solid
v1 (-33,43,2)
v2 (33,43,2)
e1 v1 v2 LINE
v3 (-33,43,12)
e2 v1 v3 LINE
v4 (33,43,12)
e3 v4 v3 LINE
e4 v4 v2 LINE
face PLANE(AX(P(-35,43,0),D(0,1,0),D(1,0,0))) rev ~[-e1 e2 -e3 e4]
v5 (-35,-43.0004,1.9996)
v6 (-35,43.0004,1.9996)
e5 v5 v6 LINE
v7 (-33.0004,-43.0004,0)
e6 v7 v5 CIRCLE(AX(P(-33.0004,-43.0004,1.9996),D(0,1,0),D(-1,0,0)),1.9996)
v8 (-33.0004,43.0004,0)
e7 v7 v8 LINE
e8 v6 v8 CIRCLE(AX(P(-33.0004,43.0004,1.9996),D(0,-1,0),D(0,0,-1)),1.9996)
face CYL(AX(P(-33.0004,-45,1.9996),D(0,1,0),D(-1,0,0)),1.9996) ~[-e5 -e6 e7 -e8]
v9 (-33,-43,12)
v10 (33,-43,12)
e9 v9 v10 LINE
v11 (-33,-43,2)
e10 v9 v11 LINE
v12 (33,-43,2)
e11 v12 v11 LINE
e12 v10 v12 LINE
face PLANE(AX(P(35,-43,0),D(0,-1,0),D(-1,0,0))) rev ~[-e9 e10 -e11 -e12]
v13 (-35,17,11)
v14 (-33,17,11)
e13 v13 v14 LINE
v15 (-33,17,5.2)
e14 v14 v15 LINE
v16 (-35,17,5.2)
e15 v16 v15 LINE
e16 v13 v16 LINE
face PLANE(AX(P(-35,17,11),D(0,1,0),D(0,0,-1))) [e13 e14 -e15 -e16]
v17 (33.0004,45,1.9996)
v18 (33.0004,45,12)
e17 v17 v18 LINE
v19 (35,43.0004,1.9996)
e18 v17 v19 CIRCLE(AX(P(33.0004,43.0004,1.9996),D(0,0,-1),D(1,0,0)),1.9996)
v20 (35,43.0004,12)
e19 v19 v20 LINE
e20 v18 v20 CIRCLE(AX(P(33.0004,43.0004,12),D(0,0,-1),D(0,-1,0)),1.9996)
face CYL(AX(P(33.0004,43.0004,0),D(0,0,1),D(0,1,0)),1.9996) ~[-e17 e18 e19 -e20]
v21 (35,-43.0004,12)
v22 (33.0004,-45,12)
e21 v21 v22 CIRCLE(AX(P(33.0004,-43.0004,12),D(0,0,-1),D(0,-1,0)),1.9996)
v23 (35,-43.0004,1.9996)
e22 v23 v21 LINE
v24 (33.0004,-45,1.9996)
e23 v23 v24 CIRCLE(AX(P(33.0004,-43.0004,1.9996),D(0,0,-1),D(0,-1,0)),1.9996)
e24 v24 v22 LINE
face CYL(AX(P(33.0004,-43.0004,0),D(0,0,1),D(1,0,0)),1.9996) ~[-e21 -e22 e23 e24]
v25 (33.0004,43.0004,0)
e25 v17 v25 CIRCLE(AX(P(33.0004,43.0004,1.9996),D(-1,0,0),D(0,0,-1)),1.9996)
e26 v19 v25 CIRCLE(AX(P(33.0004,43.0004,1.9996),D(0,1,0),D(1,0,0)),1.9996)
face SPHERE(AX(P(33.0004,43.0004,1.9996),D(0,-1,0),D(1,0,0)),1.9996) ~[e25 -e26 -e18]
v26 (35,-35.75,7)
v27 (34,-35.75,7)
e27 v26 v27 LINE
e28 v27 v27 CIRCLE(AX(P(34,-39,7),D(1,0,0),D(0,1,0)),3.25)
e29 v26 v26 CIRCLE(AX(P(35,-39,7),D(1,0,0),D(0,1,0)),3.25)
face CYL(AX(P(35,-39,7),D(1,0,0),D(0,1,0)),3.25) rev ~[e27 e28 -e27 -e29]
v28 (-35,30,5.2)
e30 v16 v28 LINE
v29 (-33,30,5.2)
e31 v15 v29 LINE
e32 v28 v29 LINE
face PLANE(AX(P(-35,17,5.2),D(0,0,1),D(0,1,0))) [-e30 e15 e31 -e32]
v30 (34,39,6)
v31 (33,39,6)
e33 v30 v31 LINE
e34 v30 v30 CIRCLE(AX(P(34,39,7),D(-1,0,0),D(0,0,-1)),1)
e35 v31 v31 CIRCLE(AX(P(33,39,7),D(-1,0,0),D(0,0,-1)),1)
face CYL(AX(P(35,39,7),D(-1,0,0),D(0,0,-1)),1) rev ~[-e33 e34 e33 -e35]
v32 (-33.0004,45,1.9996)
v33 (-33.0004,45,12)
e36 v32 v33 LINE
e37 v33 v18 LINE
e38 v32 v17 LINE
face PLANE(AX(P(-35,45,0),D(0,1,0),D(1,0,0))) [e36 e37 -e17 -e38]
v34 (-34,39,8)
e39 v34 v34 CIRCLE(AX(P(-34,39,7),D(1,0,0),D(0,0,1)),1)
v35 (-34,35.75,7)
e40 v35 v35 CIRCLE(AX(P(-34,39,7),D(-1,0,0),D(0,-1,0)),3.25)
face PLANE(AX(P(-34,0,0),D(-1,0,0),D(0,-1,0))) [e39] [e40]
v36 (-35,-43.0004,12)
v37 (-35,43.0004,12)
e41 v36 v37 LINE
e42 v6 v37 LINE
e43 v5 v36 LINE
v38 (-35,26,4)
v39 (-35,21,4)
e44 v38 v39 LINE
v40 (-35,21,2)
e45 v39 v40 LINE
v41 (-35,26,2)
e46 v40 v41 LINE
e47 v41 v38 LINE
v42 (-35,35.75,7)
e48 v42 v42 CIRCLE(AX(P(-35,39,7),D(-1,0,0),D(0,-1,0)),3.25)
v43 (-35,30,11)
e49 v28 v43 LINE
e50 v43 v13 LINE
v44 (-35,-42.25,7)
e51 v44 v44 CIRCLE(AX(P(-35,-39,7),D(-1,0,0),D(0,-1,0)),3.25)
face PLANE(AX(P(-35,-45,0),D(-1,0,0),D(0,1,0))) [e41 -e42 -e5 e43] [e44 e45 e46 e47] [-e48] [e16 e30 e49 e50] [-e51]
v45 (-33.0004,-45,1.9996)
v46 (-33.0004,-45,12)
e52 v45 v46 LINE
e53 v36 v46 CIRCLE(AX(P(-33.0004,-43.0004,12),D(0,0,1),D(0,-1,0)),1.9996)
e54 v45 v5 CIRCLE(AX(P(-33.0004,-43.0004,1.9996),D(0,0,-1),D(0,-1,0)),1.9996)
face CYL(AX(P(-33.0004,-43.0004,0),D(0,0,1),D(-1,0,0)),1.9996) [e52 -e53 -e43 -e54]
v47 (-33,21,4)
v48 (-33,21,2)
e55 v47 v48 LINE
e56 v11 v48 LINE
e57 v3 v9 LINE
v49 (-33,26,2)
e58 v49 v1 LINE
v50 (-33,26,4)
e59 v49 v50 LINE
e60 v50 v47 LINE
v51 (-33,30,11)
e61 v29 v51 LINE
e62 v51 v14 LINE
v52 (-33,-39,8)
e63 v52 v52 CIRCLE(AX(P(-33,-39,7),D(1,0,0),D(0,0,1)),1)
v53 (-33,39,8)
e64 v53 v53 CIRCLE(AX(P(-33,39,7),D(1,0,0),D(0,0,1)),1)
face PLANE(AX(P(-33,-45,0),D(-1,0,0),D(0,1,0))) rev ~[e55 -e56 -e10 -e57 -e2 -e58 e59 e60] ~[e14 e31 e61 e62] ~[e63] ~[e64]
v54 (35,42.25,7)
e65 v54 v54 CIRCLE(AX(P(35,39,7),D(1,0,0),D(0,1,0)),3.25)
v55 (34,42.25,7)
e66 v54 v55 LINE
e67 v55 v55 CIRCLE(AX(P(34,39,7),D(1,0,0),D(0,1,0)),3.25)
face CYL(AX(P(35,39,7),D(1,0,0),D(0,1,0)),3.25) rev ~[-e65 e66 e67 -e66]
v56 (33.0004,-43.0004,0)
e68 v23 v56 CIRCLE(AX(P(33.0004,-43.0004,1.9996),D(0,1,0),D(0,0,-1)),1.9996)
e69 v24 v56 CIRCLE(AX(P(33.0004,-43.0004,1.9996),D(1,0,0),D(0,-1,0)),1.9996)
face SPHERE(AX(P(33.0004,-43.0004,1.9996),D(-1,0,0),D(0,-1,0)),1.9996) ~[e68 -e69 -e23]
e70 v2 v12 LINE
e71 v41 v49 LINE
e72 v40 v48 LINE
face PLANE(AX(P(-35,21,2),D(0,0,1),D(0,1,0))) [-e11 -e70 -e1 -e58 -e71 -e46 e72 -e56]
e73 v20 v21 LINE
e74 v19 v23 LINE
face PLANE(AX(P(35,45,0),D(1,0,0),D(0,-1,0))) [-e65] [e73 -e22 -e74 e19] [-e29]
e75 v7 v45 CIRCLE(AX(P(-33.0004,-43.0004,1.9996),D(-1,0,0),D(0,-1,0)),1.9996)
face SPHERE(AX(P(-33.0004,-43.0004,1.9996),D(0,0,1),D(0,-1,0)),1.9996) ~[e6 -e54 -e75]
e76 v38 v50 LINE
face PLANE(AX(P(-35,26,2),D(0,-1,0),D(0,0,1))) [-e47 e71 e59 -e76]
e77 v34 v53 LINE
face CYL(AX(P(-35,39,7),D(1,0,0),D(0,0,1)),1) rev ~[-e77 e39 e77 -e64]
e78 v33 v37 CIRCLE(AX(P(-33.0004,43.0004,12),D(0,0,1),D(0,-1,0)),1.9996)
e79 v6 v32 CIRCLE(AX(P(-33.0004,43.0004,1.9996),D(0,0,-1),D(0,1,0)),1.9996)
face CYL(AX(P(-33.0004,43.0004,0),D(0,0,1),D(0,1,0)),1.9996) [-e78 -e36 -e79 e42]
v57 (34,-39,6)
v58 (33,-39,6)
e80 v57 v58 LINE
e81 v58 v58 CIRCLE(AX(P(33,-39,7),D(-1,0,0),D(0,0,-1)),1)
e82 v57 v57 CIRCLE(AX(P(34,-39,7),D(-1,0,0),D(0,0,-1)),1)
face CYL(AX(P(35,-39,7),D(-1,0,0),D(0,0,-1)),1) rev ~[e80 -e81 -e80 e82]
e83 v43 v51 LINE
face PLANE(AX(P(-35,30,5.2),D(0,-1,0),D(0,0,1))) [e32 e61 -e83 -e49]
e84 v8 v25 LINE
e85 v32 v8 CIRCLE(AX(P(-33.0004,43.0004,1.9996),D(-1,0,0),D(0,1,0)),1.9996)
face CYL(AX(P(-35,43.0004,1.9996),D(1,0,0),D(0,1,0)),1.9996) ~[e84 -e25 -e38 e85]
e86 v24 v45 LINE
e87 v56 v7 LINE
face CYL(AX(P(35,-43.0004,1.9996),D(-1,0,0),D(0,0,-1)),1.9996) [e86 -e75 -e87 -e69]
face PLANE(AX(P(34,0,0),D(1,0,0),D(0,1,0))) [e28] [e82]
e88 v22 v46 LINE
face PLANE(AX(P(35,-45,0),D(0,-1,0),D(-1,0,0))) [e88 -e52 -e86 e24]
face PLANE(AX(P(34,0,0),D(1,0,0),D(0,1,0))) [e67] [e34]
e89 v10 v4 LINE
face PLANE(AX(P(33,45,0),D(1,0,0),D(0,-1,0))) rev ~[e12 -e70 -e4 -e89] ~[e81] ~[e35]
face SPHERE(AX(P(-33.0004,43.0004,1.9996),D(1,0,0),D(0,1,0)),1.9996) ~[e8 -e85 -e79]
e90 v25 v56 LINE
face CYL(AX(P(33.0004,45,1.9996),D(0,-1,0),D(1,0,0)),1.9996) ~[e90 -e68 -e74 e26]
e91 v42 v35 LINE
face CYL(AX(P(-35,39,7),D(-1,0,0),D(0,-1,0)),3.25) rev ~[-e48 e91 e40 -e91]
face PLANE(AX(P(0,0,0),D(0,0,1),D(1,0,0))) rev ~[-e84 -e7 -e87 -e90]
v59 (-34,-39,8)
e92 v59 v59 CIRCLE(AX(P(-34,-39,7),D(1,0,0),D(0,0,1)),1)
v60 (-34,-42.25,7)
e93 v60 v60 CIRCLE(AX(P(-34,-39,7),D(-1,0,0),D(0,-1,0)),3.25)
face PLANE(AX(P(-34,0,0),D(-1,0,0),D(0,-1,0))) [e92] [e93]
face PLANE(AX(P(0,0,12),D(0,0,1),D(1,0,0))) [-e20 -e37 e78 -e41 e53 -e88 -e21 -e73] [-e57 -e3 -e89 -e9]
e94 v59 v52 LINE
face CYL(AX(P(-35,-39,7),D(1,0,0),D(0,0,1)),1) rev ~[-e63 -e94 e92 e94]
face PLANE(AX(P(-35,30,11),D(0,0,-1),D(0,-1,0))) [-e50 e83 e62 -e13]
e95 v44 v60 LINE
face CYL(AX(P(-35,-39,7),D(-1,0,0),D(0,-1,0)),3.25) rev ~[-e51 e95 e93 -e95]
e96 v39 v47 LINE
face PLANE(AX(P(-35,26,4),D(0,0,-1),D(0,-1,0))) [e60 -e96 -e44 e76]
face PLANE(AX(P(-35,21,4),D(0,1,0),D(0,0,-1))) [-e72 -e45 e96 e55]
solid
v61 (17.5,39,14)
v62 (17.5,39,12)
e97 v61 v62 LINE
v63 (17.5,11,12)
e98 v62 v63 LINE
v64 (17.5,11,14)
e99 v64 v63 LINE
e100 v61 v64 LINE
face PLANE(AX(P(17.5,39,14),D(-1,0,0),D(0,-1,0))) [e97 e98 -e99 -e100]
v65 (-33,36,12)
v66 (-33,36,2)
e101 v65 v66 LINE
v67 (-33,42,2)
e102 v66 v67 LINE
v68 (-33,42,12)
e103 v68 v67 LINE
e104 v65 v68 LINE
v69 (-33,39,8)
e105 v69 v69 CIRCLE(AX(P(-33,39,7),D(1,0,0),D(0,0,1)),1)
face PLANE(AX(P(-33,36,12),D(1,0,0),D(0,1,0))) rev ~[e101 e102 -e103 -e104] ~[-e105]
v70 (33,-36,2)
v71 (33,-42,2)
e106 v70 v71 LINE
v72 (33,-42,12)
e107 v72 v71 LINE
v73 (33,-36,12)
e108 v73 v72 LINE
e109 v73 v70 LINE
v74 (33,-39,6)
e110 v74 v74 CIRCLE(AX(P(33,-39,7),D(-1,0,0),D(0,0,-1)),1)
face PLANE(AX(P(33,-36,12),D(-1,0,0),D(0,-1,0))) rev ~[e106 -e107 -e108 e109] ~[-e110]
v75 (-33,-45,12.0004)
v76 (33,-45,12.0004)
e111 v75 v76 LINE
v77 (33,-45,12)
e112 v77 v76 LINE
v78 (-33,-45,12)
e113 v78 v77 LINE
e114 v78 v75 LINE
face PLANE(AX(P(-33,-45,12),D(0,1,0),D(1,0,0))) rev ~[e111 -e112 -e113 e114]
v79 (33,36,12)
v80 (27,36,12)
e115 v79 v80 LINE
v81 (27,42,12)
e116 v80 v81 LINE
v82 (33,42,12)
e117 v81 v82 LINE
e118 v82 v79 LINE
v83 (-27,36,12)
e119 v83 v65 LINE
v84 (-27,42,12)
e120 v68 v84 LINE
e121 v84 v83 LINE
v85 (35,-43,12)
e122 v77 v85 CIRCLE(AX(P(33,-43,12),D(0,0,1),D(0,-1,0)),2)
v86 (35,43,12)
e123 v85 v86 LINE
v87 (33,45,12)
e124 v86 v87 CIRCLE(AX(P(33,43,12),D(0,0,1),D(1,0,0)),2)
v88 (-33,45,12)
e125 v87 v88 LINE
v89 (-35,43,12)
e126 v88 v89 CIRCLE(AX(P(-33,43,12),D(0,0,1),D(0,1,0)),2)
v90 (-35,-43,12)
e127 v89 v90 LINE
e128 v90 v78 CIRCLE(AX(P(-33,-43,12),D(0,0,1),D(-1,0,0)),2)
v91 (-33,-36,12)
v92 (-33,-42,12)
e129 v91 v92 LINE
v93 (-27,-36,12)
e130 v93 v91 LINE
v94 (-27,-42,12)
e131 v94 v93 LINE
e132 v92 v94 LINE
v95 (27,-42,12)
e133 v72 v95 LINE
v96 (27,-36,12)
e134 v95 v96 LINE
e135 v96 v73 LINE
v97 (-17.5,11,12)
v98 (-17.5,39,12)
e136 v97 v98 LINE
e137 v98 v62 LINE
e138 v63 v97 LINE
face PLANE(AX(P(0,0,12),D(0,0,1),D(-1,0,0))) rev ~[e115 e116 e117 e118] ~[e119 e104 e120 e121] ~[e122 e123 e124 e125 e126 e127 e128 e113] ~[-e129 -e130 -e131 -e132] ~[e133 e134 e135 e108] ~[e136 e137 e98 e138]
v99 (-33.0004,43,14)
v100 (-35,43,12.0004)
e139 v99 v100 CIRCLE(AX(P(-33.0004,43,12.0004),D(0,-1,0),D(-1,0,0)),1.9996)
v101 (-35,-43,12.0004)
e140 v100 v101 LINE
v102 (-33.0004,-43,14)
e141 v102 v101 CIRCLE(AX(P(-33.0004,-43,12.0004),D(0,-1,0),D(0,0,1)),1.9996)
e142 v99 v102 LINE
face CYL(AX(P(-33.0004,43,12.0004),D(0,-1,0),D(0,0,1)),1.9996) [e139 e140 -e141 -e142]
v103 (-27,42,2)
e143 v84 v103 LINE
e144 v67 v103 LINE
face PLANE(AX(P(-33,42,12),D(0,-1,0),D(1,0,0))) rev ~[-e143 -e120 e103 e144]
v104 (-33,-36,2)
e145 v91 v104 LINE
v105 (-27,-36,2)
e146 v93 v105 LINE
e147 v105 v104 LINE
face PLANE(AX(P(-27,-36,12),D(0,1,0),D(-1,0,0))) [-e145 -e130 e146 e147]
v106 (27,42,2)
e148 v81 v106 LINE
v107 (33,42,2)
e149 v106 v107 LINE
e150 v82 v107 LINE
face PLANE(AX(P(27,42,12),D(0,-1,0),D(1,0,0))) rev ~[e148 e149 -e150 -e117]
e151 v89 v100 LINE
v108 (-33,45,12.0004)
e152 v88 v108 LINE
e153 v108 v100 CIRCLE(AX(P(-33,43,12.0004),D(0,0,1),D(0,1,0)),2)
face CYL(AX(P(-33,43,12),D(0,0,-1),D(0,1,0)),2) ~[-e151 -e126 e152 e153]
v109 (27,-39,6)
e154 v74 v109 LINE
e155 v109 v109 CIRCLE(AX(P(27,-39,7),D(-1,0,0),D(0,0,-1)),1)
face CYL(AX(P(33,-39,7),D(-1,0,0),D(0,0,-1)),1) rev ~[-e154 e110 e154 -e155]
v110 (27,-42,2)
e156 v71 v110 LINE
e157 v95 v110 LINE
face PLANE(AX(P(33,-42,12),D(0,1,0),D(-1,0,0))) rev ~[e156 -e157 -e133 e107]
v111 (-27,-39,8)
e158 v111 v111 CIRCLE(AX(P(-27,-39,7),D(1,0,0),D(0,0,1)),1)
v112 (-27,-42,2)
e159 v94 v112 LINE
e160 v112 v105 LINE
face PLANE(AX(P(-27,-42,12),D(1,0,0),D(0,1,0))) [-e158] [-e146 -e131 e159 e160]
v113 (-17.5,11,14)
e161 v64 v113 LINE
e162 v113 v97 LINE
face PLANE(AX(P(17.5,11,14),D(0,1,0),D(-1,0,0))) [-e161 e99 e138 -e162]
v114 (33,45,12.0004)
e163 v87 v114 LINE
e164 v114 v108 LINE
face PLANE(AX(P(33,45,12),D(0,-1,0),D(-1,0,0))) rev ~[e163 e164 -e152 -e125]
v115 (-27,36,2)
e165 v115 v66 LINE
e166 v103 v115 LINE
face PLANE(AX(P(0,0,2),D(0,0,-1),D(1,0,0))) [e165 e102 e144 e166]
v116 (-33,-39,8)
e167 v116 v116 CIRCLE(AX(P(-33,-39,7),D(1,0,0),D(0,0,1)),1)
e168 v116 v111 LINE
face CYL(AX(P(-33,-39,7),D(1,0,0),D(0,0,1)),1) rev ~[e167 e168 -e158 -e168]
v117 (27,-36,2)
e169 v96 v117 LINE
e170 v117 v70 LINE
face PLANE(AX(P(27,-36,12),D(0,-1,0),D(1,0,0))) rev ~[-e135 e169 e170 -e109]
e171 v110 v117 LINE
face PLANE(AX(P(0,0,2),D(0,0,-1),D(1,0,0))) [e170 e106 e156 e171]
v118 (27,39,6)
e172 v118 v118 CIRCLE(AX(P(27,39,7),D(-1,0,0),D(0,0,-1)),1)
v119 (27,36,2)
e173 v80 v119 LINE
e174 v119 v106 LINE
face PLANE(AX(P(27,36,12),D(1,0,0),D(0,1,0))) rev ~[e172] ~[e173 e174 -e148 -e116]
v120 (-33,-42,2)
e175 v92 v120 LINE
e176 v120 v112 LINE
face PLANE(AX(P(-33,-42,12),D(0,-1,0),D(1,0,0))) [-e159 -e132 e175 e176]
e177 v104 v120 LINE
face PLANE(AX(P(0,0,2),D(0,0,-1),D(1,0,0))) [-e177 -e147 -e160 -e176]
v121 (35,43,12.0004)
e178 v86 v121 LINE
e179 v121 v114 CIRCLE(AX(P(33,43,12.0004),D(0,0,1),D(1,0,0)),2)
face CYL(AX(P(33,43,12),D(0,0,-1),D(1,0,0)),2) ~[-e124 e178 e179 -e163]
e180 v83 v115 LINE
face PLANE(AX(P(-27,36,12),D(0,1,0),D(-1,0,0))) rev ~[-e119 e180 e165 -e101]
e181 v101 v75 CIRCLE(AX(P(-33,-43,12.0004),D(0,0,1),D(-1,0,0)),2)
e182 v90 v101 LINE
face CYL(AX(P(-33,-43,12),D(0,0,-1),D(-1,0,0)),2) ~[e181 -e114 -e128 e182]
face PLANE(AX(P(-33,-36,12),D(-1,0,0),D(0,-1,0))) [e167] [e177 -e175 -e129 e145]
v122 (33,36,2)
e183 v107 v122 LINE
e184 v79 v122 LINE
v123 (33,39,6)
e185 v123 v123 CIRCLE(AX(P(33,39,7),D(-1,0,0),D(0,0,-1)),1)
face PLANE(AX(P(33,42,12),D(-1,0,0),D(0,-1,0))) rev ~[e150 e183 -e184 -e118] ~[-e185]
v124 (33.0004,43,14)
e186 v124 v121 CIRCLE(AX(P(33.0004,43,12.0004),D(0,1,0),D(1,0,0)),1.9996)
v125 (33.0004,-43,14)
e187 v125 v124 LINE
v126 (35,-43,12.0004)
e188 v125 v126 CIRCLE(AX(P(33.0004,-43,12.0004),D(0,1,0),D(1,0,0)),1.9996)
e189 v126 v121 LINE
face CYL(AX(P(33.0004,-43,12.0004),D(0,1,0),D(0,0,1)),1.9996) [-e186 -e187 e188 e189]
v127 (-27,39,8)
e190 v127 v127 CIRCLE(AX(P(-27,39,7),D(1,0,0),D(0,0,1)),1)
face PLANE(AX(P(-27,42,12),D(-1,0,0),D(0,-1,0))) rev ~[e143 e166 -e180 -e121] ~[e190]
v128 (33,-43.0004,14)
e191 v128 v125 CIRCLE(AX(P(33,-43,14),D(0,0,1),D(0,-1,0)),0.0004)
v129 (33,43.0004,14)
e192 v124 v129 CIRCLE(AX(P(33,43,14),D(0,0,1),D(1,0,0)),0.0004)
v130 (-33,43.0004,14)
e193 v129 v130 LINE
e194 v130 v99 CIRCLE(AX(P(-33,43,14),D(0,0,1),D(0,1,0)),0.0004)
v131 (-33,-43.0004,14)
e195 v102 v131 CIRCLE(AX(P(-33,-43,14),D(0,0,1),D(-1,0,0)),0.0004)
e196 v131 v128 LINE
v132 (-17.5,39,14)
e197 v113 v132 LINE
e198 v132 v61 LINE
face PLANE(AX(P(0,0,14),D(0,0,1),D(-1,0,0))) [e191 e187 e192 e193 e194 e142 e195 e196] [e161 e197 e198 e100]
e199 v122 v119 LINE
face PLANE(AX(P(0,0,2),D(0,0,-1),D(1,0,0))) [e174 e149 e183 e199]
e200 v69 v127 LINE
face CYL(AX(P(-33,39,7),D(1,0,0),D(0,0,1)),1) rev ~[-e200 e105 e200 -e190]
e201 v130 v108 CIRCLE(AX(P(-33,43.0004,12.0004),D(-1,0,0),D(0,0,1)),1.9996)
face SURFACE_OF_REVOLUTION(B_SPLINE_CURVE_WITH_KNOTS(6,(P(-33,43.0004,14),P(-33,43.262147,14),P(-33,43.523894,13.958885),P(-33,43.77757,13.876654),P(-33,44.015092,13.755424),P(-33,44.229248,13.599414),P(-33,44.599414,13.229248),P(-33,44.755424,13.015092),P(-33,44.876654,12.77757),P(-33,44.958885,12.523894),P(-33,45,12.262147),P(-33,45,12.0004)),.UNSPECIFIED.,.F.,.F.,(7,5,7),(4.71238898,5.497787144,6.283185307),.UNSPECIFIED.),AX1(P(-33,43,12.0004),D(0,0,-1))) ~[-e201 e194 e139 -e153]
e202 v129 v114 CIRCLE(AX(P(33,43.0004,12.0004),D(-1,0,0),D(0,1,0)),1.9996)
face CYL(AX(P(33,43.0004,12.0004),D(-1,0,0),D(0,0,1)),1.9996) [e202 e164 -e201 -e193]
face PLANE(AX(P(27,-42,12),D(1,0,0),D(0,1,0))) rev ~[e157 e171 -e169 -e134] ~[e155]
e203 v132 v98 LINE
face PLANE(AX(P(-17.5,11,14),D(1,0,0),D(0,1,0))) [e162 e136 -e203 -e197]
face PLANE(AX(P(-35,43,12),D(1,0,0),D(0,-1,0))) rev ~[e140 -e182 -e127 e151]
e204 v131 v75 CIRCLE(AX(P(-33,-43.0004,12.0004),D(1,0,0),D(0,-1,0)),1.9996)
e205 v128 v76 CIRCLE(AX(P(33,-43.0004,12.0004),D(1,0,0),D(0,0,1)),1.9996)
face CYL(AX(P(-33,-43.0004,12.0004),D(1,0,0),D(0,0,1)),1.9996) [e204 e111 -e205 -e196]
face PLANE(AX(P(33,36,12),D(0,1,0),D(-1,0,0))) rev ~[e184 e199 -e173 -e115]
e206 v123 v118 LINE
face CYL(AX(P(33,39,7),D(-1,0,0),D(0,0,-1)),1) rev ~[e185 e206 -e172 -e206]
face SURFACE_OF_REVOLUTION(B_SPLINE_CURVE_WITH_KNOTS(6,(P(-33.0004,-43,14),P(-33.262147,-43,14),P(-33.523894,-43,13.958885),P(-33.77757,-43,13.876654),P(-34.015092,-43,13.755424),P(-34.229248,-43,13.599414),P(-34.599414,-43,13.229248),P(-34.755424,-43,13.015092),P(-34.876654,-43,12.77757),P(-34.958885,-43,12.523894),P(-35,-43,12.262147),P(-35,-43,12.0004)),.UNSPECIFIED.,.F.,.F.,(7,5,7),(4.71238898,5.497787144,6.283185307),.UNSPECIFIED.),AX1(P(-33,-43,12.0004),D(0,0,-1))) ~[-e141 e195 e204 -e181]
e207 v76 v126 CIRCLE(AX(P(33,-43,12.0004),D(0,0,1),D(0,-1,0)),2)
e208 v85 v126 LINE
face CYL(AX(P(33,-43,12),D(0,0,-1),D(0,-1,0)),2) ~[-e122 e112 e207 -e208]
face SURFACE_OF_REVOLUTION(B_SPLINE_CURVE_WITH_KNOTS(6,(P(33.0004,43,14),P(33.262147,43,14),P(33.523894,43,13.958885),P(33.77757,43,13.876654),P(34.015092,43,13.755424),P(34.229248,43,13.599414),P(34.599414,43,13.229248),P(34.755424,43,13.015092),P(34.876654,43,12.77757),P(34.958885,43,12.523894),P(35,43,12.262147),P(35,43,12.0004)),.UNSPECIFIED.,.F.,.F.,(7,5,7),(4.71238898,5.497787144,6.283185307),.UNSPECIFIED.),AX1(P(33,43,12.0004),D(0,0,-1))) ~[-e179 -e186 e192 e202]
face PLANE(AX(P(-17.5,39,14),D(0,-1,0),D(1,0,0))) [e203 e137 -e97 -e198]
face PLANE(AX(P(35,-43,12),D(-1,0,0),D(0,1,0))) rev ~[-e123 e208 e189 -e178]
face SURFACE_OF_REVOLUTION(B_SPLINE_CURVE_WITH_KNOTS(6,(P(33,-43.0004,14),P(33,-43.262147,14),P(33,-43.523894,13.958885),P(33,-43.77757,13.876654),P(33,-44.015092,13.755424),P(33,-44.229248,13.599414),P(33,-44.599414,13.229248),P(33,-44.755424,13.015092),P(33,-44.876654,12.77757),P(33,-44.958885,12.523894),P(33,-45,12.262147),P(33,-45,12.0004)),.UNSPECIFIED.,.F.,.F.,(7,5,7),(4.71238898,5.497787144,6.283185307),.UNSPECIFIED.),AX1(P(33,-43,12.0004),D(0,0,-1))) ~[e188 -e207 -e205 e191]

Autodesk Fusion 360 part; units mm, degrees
sketch "Sketch1" plane through (0, 0, 0) normal (0, 0, 1) x (1, 0, 0) in component "Case"
  line L0 (-35, 45) -> (35, 45)
  line L1 (35, 45) -> (35, -45)
  line L2 (35, -45) -> (-35, -45)
  line L3 (-35, -45) -> (-35, 45)
  dimension "d1" = 90
  dimension "d2" = 45
  dimension "d3" = 35
  dimension "d6" = 70
extrude "Extrude1" add sketch "Sketch1" along normal blind 12 makes body 1 in component "Case"
shell "Shell1" thickness 2 removed faces 1 at (-11.6667, -15, 12) on bodies 1 in component "Case"
sketch "Sketch3" plane through (-35, 0, 0) normal (-1, 0, 0) x (0, -1, 0) in component "Case"
  line L0 (-45, 0) -> (45, 0)
  line L1 (45, 0) -> (45, 12)
  line L2 (45, 12) -> (-45, 12)
  line L3 (-45, 12) -> (-45, 0)
  circle A0 centre (-39, 7) radius 3.25
  circle A1 centre (39, 7) radius 3.25
  line L4 (-30, 11) -> (-17, 11)
  line L5 (-17, 11) -> (-17, 5.2)
  line L6 (-17, 5.2) -> (-30, 5.2)
  line L7 (-30, 5.2) -> (-30, 11)
  line L8 (-26, 4) -> (-21, 4)
  line L9 (-21, 4) -> (-21, 2)
  line L10 (-21, 2) -> (-26, 2)
  line L11 (-26, 2) -> (-26, 4)
  dimension "d18" = 6.5
  dimension "d19" = 6
  dimension "d20" = 5
  dimension "d21" = 6.5
  dimension "d22" = 6
  dimension "d23" = 5
  dimension "d47" = 13
  dimension "d48" = 5.8
  dimension "d49" = 1
  dimension "d50" = 15
  dimension "d51" = 5
  dimension "d52" = 4
  dimension "d53" = 19
extrude "Extrude5" cut sketch "Sketch3" against normal blind 4 contours L4 L5 L6 L7 | L8 L9 L10 L11 bodies 1 in component "Case"
hole "Hole2" at (-35, -39, 7) direction (1, 0, 0) diameter 2 depth 6 tip angle 118 bodies 1 in component "Case"
hole "Hole1" at (-35, 39, 7) direction (1, 0, 0) diameter 2 depth 6 tip angle 118 bodies 1 in component "Case"
extrude "Extrude3" cut sketch "Sketch3" against normal blind 1 contours A0 | A1 bodies 1 in component "Case"
sketch "Sketch4" plane through (35, 0, 0) normal (1, 0, 0) x (0, 1, 0) in component "Case"
  line L0 (-45, 0) -> (45, 0)
  line L1 (45, 0) -> (45, 12)
  line L2 (45, 12) -> (-45, 12)
  line L3 (-45, 12) -> (-45, 0)
  circle A0 centre (-39, 7) radius 3.25
  circle A1 centre (39, 7) radius 3.25
  dimension "d32" = 6.5
  dimension "d33" = 6
  dimension "d34" = 5
  dimension "d35" = 6.5
  dimension "d36" = 6
  dimension "d37" = 5
hole "Hole4" at (35, -39, 7) direction (-1, 0, 0) diameter 2 depth 6 tip angle 118 bodies 1 in component "Case"
hole "Hole3" at (35, 39, 7) direction (-1, 0, 0) diameter 2 depth 6 tip angle 118 bodies 1 in component "Case"
extrude "Extrude4" cut sketch "Sketch4" against normal blind 1 contours A0 | A1 bodies 1 in component "Case"
fillet "Fillet1" radius 2 8 edges at (-35, -45, 6) (0, -45, 0) (35, -45, 6) (35, 0, 0) (35, 45, 6) (0, 45, 0) (-35, 45, 6) (-35, 0, 0) on bodies 1 in component "Case"
sketch "Sketch1 (2)" plane through (0, 0, 12) normal (0, 0, 1) x (-1, 0, 0) in component "Top"
  line L0 (33, 43) -> (33, -43)
  line L1 (33, -43) -> (-33, -43)
  line L2 (-33, -43) -> (-33, 43)
  line L3 (-33, 43) -> (33, 43)
  arc A0 (35, 43) -> (33, 45) centre (33, 43) ccw
  line L4 (33, 45) -> (-33, 45)
  arc A1 (-33, 45) -> (-35, 43) centre (-33, 43) ccw
  line L5 (-35, 43) -> (-35, -43)
  arc A2 (-35, -43) -> (-33, -45) centre (-33, -43) ccw
  line L6 (-33, -45) -> (33, -45)
  arc A3 (33, -45) -> (35, -43) centre (33, -43) ccw
  line L7 (35, -43) -> (35, 43)
  line L8 (33, -21) -> (33, 43)
  line L9 (33, 43) -> (-33, 43)
  line L10 (-33, 43) -> (-33, -43)
  line L11 (-33, -43) -> (33, -43)
  line L12 (33, -43) -> (33, -26)
  line L13 (33, -26) -> (35, -26)
  line L14 (35, -26) -> (35, -21)
  line L15 (35, -21) -> (33, -21)
extrude "Extrude1'" add sketch "Sketch1 (2)" along normal blind 2 separate body makes body 2 in component "Top"
sketch "Sketch2" plane through (0, 0, 12) normal (0, 0, -1) x (1, 0, 0) in component "Top"
  line L0 (-35, 43) -> (-35, -43)
  arc A0 (-35, -43) -> (-33, -45) centre (-33, -43) ccw
  line L1 (-33, -45) -> (33, -45)
  arc A1 (33, -45) -> (35, -43) centre (33, -43) ccw
  line L2 (35, -43) -> (35, 43)
  arc A2 (35, 43) -> (33, 45) centre (33, 43) ccw
  line L3 (33, 45) -> (-33, 45)
  arc A3 (-33, 45) -> (-35, 43) centre (-33, 43) ccw
  line L4 (33, 42) -> (27, 42)
  line L5 (27, 42) -> (27, 36)
  line L6 (27, 36) -> (33, 36)
  line L7 (33, 36) -> (33, 42)
  line L8 (-33, 42) -> (-27, 42)
  line L9 (-27, 42) -> (-27, 36)
  line L10 (-27, 36) -> (-33, 36)
  line L11 (-33, 36) -> (-33, 42)
  line L12 (-33, -42) -> (-27, -42)
  line L13 (-27, -42) -> (-27, -36)
  line L14 (-27, -36) -> (-33, -36)
  line L15 (-33, -36) -> (-33, -42)
  line L16 (33, -36) -> (27, -36)
  line L17 (27, -36) -> (27, -42)
  line L18 (27, -42) -> (33, -42)
  line L19 (33, -42) -> (33, -36)
  dimension "d58" = 6
  dimension "d59" = 6
  dimension "d60" = 3
  dimension "d61" = 2
  dimension "d62" = 6
  dimension "d63" = 6
  dimension "d64" = 3
  dimension "d65" = 2
  dimension "d66" = 6
  dimension "d67" = 6
  dimension "d68" = 2
  dimension "d69" = 3
  dimension "d70" = 6
  dimension "d71" = 6
  dimension "d72" = 3
  dimension "d73" = 2
extrude "Extrude2" add sketch "Sketch2" along normal blind 10 contours L4 L5 L6 L7 | L8 L9 L10 L11 | L12 L13 L14 L15 | L16 L17 L18 L19 bodies 2 in component "Top"
hole "Hole1'" at (33, 39, 7) direction (-1, 0, 0) diameter 2 depth 6 tip angle 118 bodies 2 in component "Top"
hole "Hole2'" at (33, -39, 7) direction (-1, 0, 0) diameter 2 depth 6 tip angle 118 bodies 2 in component "Top"
hole "Hole3'" at (-33, -39, 7) direction (1, 0, 0) diameter 2 depth 6 tip angle 118 bodies 2 in component "Top"
hole "Hole4'" at (-33, 39, 7) direction (1, 0, 0) diameter 2 depth 6 tip angle 118 bodies 2 in component "Top"
sketch "Sketch3 (2)" plane through (0, 0, 14) normal (0, 0, 1) x (-1, 0, 0) in component "Top"
  line L0 (35, -43) -> (35, 43)
  arc A0 (35, 43) -> (33, 45) centre (33, 43) ccw
  line L1 (33, 45) -> (-33, 45)
  arc A1 (-33, 45) -> (-35, 43) centre (-33, 43) ccw
  line L2 (-35, 43) -> (-35, -43)
  arc A2 (-35, -43) -> (-33, -45) centre (-33, -43) ccw
  line L3 (-33, -45) -> (33, -45)
  arc A3 (33, -45) -> (35, -43) centre (33, -43) ccw
  line L4 (17.5, -39) -> (-17.5, -39)
  line L5 (-17.5, -39) -> (-17.5, -11)
  line L6 (-17.5, -11) -> (17.5, -11)
  line L7 (17.5, -11) -> (17.5, -39)
  dimension "d88" = 35
  dimension "d89" = 28
  dimension "d90" = 17.5
  dimension "d91" = 6
extrude "Extrude3'" cut sketch "Sketch3 (2)" against normal blind 4 contours L4 L5 L6 L7 bodies 2 in component "Top"
fillet "Fillet1'" radius 2 8 edges at (34.4142, 44.4142, 14) (0, 45, 14) (-34.4142, 44.4142, 14) (-35, 0, 14) (-34.4142, -44.4142, 14) (0, -45, 14) (34.4142, -44.4142, 14) (35, 0, 14) on bodies 2 in component "Top"
component "Top" placed x (1, 0, 0) y (0, 1, 0) z (0, 0, 1) at (0, 0, 0)
component "Case" placed x (1, 0, 0) y (0, 1, 0) z (0, 0, 1) at (0, 0, 0)
